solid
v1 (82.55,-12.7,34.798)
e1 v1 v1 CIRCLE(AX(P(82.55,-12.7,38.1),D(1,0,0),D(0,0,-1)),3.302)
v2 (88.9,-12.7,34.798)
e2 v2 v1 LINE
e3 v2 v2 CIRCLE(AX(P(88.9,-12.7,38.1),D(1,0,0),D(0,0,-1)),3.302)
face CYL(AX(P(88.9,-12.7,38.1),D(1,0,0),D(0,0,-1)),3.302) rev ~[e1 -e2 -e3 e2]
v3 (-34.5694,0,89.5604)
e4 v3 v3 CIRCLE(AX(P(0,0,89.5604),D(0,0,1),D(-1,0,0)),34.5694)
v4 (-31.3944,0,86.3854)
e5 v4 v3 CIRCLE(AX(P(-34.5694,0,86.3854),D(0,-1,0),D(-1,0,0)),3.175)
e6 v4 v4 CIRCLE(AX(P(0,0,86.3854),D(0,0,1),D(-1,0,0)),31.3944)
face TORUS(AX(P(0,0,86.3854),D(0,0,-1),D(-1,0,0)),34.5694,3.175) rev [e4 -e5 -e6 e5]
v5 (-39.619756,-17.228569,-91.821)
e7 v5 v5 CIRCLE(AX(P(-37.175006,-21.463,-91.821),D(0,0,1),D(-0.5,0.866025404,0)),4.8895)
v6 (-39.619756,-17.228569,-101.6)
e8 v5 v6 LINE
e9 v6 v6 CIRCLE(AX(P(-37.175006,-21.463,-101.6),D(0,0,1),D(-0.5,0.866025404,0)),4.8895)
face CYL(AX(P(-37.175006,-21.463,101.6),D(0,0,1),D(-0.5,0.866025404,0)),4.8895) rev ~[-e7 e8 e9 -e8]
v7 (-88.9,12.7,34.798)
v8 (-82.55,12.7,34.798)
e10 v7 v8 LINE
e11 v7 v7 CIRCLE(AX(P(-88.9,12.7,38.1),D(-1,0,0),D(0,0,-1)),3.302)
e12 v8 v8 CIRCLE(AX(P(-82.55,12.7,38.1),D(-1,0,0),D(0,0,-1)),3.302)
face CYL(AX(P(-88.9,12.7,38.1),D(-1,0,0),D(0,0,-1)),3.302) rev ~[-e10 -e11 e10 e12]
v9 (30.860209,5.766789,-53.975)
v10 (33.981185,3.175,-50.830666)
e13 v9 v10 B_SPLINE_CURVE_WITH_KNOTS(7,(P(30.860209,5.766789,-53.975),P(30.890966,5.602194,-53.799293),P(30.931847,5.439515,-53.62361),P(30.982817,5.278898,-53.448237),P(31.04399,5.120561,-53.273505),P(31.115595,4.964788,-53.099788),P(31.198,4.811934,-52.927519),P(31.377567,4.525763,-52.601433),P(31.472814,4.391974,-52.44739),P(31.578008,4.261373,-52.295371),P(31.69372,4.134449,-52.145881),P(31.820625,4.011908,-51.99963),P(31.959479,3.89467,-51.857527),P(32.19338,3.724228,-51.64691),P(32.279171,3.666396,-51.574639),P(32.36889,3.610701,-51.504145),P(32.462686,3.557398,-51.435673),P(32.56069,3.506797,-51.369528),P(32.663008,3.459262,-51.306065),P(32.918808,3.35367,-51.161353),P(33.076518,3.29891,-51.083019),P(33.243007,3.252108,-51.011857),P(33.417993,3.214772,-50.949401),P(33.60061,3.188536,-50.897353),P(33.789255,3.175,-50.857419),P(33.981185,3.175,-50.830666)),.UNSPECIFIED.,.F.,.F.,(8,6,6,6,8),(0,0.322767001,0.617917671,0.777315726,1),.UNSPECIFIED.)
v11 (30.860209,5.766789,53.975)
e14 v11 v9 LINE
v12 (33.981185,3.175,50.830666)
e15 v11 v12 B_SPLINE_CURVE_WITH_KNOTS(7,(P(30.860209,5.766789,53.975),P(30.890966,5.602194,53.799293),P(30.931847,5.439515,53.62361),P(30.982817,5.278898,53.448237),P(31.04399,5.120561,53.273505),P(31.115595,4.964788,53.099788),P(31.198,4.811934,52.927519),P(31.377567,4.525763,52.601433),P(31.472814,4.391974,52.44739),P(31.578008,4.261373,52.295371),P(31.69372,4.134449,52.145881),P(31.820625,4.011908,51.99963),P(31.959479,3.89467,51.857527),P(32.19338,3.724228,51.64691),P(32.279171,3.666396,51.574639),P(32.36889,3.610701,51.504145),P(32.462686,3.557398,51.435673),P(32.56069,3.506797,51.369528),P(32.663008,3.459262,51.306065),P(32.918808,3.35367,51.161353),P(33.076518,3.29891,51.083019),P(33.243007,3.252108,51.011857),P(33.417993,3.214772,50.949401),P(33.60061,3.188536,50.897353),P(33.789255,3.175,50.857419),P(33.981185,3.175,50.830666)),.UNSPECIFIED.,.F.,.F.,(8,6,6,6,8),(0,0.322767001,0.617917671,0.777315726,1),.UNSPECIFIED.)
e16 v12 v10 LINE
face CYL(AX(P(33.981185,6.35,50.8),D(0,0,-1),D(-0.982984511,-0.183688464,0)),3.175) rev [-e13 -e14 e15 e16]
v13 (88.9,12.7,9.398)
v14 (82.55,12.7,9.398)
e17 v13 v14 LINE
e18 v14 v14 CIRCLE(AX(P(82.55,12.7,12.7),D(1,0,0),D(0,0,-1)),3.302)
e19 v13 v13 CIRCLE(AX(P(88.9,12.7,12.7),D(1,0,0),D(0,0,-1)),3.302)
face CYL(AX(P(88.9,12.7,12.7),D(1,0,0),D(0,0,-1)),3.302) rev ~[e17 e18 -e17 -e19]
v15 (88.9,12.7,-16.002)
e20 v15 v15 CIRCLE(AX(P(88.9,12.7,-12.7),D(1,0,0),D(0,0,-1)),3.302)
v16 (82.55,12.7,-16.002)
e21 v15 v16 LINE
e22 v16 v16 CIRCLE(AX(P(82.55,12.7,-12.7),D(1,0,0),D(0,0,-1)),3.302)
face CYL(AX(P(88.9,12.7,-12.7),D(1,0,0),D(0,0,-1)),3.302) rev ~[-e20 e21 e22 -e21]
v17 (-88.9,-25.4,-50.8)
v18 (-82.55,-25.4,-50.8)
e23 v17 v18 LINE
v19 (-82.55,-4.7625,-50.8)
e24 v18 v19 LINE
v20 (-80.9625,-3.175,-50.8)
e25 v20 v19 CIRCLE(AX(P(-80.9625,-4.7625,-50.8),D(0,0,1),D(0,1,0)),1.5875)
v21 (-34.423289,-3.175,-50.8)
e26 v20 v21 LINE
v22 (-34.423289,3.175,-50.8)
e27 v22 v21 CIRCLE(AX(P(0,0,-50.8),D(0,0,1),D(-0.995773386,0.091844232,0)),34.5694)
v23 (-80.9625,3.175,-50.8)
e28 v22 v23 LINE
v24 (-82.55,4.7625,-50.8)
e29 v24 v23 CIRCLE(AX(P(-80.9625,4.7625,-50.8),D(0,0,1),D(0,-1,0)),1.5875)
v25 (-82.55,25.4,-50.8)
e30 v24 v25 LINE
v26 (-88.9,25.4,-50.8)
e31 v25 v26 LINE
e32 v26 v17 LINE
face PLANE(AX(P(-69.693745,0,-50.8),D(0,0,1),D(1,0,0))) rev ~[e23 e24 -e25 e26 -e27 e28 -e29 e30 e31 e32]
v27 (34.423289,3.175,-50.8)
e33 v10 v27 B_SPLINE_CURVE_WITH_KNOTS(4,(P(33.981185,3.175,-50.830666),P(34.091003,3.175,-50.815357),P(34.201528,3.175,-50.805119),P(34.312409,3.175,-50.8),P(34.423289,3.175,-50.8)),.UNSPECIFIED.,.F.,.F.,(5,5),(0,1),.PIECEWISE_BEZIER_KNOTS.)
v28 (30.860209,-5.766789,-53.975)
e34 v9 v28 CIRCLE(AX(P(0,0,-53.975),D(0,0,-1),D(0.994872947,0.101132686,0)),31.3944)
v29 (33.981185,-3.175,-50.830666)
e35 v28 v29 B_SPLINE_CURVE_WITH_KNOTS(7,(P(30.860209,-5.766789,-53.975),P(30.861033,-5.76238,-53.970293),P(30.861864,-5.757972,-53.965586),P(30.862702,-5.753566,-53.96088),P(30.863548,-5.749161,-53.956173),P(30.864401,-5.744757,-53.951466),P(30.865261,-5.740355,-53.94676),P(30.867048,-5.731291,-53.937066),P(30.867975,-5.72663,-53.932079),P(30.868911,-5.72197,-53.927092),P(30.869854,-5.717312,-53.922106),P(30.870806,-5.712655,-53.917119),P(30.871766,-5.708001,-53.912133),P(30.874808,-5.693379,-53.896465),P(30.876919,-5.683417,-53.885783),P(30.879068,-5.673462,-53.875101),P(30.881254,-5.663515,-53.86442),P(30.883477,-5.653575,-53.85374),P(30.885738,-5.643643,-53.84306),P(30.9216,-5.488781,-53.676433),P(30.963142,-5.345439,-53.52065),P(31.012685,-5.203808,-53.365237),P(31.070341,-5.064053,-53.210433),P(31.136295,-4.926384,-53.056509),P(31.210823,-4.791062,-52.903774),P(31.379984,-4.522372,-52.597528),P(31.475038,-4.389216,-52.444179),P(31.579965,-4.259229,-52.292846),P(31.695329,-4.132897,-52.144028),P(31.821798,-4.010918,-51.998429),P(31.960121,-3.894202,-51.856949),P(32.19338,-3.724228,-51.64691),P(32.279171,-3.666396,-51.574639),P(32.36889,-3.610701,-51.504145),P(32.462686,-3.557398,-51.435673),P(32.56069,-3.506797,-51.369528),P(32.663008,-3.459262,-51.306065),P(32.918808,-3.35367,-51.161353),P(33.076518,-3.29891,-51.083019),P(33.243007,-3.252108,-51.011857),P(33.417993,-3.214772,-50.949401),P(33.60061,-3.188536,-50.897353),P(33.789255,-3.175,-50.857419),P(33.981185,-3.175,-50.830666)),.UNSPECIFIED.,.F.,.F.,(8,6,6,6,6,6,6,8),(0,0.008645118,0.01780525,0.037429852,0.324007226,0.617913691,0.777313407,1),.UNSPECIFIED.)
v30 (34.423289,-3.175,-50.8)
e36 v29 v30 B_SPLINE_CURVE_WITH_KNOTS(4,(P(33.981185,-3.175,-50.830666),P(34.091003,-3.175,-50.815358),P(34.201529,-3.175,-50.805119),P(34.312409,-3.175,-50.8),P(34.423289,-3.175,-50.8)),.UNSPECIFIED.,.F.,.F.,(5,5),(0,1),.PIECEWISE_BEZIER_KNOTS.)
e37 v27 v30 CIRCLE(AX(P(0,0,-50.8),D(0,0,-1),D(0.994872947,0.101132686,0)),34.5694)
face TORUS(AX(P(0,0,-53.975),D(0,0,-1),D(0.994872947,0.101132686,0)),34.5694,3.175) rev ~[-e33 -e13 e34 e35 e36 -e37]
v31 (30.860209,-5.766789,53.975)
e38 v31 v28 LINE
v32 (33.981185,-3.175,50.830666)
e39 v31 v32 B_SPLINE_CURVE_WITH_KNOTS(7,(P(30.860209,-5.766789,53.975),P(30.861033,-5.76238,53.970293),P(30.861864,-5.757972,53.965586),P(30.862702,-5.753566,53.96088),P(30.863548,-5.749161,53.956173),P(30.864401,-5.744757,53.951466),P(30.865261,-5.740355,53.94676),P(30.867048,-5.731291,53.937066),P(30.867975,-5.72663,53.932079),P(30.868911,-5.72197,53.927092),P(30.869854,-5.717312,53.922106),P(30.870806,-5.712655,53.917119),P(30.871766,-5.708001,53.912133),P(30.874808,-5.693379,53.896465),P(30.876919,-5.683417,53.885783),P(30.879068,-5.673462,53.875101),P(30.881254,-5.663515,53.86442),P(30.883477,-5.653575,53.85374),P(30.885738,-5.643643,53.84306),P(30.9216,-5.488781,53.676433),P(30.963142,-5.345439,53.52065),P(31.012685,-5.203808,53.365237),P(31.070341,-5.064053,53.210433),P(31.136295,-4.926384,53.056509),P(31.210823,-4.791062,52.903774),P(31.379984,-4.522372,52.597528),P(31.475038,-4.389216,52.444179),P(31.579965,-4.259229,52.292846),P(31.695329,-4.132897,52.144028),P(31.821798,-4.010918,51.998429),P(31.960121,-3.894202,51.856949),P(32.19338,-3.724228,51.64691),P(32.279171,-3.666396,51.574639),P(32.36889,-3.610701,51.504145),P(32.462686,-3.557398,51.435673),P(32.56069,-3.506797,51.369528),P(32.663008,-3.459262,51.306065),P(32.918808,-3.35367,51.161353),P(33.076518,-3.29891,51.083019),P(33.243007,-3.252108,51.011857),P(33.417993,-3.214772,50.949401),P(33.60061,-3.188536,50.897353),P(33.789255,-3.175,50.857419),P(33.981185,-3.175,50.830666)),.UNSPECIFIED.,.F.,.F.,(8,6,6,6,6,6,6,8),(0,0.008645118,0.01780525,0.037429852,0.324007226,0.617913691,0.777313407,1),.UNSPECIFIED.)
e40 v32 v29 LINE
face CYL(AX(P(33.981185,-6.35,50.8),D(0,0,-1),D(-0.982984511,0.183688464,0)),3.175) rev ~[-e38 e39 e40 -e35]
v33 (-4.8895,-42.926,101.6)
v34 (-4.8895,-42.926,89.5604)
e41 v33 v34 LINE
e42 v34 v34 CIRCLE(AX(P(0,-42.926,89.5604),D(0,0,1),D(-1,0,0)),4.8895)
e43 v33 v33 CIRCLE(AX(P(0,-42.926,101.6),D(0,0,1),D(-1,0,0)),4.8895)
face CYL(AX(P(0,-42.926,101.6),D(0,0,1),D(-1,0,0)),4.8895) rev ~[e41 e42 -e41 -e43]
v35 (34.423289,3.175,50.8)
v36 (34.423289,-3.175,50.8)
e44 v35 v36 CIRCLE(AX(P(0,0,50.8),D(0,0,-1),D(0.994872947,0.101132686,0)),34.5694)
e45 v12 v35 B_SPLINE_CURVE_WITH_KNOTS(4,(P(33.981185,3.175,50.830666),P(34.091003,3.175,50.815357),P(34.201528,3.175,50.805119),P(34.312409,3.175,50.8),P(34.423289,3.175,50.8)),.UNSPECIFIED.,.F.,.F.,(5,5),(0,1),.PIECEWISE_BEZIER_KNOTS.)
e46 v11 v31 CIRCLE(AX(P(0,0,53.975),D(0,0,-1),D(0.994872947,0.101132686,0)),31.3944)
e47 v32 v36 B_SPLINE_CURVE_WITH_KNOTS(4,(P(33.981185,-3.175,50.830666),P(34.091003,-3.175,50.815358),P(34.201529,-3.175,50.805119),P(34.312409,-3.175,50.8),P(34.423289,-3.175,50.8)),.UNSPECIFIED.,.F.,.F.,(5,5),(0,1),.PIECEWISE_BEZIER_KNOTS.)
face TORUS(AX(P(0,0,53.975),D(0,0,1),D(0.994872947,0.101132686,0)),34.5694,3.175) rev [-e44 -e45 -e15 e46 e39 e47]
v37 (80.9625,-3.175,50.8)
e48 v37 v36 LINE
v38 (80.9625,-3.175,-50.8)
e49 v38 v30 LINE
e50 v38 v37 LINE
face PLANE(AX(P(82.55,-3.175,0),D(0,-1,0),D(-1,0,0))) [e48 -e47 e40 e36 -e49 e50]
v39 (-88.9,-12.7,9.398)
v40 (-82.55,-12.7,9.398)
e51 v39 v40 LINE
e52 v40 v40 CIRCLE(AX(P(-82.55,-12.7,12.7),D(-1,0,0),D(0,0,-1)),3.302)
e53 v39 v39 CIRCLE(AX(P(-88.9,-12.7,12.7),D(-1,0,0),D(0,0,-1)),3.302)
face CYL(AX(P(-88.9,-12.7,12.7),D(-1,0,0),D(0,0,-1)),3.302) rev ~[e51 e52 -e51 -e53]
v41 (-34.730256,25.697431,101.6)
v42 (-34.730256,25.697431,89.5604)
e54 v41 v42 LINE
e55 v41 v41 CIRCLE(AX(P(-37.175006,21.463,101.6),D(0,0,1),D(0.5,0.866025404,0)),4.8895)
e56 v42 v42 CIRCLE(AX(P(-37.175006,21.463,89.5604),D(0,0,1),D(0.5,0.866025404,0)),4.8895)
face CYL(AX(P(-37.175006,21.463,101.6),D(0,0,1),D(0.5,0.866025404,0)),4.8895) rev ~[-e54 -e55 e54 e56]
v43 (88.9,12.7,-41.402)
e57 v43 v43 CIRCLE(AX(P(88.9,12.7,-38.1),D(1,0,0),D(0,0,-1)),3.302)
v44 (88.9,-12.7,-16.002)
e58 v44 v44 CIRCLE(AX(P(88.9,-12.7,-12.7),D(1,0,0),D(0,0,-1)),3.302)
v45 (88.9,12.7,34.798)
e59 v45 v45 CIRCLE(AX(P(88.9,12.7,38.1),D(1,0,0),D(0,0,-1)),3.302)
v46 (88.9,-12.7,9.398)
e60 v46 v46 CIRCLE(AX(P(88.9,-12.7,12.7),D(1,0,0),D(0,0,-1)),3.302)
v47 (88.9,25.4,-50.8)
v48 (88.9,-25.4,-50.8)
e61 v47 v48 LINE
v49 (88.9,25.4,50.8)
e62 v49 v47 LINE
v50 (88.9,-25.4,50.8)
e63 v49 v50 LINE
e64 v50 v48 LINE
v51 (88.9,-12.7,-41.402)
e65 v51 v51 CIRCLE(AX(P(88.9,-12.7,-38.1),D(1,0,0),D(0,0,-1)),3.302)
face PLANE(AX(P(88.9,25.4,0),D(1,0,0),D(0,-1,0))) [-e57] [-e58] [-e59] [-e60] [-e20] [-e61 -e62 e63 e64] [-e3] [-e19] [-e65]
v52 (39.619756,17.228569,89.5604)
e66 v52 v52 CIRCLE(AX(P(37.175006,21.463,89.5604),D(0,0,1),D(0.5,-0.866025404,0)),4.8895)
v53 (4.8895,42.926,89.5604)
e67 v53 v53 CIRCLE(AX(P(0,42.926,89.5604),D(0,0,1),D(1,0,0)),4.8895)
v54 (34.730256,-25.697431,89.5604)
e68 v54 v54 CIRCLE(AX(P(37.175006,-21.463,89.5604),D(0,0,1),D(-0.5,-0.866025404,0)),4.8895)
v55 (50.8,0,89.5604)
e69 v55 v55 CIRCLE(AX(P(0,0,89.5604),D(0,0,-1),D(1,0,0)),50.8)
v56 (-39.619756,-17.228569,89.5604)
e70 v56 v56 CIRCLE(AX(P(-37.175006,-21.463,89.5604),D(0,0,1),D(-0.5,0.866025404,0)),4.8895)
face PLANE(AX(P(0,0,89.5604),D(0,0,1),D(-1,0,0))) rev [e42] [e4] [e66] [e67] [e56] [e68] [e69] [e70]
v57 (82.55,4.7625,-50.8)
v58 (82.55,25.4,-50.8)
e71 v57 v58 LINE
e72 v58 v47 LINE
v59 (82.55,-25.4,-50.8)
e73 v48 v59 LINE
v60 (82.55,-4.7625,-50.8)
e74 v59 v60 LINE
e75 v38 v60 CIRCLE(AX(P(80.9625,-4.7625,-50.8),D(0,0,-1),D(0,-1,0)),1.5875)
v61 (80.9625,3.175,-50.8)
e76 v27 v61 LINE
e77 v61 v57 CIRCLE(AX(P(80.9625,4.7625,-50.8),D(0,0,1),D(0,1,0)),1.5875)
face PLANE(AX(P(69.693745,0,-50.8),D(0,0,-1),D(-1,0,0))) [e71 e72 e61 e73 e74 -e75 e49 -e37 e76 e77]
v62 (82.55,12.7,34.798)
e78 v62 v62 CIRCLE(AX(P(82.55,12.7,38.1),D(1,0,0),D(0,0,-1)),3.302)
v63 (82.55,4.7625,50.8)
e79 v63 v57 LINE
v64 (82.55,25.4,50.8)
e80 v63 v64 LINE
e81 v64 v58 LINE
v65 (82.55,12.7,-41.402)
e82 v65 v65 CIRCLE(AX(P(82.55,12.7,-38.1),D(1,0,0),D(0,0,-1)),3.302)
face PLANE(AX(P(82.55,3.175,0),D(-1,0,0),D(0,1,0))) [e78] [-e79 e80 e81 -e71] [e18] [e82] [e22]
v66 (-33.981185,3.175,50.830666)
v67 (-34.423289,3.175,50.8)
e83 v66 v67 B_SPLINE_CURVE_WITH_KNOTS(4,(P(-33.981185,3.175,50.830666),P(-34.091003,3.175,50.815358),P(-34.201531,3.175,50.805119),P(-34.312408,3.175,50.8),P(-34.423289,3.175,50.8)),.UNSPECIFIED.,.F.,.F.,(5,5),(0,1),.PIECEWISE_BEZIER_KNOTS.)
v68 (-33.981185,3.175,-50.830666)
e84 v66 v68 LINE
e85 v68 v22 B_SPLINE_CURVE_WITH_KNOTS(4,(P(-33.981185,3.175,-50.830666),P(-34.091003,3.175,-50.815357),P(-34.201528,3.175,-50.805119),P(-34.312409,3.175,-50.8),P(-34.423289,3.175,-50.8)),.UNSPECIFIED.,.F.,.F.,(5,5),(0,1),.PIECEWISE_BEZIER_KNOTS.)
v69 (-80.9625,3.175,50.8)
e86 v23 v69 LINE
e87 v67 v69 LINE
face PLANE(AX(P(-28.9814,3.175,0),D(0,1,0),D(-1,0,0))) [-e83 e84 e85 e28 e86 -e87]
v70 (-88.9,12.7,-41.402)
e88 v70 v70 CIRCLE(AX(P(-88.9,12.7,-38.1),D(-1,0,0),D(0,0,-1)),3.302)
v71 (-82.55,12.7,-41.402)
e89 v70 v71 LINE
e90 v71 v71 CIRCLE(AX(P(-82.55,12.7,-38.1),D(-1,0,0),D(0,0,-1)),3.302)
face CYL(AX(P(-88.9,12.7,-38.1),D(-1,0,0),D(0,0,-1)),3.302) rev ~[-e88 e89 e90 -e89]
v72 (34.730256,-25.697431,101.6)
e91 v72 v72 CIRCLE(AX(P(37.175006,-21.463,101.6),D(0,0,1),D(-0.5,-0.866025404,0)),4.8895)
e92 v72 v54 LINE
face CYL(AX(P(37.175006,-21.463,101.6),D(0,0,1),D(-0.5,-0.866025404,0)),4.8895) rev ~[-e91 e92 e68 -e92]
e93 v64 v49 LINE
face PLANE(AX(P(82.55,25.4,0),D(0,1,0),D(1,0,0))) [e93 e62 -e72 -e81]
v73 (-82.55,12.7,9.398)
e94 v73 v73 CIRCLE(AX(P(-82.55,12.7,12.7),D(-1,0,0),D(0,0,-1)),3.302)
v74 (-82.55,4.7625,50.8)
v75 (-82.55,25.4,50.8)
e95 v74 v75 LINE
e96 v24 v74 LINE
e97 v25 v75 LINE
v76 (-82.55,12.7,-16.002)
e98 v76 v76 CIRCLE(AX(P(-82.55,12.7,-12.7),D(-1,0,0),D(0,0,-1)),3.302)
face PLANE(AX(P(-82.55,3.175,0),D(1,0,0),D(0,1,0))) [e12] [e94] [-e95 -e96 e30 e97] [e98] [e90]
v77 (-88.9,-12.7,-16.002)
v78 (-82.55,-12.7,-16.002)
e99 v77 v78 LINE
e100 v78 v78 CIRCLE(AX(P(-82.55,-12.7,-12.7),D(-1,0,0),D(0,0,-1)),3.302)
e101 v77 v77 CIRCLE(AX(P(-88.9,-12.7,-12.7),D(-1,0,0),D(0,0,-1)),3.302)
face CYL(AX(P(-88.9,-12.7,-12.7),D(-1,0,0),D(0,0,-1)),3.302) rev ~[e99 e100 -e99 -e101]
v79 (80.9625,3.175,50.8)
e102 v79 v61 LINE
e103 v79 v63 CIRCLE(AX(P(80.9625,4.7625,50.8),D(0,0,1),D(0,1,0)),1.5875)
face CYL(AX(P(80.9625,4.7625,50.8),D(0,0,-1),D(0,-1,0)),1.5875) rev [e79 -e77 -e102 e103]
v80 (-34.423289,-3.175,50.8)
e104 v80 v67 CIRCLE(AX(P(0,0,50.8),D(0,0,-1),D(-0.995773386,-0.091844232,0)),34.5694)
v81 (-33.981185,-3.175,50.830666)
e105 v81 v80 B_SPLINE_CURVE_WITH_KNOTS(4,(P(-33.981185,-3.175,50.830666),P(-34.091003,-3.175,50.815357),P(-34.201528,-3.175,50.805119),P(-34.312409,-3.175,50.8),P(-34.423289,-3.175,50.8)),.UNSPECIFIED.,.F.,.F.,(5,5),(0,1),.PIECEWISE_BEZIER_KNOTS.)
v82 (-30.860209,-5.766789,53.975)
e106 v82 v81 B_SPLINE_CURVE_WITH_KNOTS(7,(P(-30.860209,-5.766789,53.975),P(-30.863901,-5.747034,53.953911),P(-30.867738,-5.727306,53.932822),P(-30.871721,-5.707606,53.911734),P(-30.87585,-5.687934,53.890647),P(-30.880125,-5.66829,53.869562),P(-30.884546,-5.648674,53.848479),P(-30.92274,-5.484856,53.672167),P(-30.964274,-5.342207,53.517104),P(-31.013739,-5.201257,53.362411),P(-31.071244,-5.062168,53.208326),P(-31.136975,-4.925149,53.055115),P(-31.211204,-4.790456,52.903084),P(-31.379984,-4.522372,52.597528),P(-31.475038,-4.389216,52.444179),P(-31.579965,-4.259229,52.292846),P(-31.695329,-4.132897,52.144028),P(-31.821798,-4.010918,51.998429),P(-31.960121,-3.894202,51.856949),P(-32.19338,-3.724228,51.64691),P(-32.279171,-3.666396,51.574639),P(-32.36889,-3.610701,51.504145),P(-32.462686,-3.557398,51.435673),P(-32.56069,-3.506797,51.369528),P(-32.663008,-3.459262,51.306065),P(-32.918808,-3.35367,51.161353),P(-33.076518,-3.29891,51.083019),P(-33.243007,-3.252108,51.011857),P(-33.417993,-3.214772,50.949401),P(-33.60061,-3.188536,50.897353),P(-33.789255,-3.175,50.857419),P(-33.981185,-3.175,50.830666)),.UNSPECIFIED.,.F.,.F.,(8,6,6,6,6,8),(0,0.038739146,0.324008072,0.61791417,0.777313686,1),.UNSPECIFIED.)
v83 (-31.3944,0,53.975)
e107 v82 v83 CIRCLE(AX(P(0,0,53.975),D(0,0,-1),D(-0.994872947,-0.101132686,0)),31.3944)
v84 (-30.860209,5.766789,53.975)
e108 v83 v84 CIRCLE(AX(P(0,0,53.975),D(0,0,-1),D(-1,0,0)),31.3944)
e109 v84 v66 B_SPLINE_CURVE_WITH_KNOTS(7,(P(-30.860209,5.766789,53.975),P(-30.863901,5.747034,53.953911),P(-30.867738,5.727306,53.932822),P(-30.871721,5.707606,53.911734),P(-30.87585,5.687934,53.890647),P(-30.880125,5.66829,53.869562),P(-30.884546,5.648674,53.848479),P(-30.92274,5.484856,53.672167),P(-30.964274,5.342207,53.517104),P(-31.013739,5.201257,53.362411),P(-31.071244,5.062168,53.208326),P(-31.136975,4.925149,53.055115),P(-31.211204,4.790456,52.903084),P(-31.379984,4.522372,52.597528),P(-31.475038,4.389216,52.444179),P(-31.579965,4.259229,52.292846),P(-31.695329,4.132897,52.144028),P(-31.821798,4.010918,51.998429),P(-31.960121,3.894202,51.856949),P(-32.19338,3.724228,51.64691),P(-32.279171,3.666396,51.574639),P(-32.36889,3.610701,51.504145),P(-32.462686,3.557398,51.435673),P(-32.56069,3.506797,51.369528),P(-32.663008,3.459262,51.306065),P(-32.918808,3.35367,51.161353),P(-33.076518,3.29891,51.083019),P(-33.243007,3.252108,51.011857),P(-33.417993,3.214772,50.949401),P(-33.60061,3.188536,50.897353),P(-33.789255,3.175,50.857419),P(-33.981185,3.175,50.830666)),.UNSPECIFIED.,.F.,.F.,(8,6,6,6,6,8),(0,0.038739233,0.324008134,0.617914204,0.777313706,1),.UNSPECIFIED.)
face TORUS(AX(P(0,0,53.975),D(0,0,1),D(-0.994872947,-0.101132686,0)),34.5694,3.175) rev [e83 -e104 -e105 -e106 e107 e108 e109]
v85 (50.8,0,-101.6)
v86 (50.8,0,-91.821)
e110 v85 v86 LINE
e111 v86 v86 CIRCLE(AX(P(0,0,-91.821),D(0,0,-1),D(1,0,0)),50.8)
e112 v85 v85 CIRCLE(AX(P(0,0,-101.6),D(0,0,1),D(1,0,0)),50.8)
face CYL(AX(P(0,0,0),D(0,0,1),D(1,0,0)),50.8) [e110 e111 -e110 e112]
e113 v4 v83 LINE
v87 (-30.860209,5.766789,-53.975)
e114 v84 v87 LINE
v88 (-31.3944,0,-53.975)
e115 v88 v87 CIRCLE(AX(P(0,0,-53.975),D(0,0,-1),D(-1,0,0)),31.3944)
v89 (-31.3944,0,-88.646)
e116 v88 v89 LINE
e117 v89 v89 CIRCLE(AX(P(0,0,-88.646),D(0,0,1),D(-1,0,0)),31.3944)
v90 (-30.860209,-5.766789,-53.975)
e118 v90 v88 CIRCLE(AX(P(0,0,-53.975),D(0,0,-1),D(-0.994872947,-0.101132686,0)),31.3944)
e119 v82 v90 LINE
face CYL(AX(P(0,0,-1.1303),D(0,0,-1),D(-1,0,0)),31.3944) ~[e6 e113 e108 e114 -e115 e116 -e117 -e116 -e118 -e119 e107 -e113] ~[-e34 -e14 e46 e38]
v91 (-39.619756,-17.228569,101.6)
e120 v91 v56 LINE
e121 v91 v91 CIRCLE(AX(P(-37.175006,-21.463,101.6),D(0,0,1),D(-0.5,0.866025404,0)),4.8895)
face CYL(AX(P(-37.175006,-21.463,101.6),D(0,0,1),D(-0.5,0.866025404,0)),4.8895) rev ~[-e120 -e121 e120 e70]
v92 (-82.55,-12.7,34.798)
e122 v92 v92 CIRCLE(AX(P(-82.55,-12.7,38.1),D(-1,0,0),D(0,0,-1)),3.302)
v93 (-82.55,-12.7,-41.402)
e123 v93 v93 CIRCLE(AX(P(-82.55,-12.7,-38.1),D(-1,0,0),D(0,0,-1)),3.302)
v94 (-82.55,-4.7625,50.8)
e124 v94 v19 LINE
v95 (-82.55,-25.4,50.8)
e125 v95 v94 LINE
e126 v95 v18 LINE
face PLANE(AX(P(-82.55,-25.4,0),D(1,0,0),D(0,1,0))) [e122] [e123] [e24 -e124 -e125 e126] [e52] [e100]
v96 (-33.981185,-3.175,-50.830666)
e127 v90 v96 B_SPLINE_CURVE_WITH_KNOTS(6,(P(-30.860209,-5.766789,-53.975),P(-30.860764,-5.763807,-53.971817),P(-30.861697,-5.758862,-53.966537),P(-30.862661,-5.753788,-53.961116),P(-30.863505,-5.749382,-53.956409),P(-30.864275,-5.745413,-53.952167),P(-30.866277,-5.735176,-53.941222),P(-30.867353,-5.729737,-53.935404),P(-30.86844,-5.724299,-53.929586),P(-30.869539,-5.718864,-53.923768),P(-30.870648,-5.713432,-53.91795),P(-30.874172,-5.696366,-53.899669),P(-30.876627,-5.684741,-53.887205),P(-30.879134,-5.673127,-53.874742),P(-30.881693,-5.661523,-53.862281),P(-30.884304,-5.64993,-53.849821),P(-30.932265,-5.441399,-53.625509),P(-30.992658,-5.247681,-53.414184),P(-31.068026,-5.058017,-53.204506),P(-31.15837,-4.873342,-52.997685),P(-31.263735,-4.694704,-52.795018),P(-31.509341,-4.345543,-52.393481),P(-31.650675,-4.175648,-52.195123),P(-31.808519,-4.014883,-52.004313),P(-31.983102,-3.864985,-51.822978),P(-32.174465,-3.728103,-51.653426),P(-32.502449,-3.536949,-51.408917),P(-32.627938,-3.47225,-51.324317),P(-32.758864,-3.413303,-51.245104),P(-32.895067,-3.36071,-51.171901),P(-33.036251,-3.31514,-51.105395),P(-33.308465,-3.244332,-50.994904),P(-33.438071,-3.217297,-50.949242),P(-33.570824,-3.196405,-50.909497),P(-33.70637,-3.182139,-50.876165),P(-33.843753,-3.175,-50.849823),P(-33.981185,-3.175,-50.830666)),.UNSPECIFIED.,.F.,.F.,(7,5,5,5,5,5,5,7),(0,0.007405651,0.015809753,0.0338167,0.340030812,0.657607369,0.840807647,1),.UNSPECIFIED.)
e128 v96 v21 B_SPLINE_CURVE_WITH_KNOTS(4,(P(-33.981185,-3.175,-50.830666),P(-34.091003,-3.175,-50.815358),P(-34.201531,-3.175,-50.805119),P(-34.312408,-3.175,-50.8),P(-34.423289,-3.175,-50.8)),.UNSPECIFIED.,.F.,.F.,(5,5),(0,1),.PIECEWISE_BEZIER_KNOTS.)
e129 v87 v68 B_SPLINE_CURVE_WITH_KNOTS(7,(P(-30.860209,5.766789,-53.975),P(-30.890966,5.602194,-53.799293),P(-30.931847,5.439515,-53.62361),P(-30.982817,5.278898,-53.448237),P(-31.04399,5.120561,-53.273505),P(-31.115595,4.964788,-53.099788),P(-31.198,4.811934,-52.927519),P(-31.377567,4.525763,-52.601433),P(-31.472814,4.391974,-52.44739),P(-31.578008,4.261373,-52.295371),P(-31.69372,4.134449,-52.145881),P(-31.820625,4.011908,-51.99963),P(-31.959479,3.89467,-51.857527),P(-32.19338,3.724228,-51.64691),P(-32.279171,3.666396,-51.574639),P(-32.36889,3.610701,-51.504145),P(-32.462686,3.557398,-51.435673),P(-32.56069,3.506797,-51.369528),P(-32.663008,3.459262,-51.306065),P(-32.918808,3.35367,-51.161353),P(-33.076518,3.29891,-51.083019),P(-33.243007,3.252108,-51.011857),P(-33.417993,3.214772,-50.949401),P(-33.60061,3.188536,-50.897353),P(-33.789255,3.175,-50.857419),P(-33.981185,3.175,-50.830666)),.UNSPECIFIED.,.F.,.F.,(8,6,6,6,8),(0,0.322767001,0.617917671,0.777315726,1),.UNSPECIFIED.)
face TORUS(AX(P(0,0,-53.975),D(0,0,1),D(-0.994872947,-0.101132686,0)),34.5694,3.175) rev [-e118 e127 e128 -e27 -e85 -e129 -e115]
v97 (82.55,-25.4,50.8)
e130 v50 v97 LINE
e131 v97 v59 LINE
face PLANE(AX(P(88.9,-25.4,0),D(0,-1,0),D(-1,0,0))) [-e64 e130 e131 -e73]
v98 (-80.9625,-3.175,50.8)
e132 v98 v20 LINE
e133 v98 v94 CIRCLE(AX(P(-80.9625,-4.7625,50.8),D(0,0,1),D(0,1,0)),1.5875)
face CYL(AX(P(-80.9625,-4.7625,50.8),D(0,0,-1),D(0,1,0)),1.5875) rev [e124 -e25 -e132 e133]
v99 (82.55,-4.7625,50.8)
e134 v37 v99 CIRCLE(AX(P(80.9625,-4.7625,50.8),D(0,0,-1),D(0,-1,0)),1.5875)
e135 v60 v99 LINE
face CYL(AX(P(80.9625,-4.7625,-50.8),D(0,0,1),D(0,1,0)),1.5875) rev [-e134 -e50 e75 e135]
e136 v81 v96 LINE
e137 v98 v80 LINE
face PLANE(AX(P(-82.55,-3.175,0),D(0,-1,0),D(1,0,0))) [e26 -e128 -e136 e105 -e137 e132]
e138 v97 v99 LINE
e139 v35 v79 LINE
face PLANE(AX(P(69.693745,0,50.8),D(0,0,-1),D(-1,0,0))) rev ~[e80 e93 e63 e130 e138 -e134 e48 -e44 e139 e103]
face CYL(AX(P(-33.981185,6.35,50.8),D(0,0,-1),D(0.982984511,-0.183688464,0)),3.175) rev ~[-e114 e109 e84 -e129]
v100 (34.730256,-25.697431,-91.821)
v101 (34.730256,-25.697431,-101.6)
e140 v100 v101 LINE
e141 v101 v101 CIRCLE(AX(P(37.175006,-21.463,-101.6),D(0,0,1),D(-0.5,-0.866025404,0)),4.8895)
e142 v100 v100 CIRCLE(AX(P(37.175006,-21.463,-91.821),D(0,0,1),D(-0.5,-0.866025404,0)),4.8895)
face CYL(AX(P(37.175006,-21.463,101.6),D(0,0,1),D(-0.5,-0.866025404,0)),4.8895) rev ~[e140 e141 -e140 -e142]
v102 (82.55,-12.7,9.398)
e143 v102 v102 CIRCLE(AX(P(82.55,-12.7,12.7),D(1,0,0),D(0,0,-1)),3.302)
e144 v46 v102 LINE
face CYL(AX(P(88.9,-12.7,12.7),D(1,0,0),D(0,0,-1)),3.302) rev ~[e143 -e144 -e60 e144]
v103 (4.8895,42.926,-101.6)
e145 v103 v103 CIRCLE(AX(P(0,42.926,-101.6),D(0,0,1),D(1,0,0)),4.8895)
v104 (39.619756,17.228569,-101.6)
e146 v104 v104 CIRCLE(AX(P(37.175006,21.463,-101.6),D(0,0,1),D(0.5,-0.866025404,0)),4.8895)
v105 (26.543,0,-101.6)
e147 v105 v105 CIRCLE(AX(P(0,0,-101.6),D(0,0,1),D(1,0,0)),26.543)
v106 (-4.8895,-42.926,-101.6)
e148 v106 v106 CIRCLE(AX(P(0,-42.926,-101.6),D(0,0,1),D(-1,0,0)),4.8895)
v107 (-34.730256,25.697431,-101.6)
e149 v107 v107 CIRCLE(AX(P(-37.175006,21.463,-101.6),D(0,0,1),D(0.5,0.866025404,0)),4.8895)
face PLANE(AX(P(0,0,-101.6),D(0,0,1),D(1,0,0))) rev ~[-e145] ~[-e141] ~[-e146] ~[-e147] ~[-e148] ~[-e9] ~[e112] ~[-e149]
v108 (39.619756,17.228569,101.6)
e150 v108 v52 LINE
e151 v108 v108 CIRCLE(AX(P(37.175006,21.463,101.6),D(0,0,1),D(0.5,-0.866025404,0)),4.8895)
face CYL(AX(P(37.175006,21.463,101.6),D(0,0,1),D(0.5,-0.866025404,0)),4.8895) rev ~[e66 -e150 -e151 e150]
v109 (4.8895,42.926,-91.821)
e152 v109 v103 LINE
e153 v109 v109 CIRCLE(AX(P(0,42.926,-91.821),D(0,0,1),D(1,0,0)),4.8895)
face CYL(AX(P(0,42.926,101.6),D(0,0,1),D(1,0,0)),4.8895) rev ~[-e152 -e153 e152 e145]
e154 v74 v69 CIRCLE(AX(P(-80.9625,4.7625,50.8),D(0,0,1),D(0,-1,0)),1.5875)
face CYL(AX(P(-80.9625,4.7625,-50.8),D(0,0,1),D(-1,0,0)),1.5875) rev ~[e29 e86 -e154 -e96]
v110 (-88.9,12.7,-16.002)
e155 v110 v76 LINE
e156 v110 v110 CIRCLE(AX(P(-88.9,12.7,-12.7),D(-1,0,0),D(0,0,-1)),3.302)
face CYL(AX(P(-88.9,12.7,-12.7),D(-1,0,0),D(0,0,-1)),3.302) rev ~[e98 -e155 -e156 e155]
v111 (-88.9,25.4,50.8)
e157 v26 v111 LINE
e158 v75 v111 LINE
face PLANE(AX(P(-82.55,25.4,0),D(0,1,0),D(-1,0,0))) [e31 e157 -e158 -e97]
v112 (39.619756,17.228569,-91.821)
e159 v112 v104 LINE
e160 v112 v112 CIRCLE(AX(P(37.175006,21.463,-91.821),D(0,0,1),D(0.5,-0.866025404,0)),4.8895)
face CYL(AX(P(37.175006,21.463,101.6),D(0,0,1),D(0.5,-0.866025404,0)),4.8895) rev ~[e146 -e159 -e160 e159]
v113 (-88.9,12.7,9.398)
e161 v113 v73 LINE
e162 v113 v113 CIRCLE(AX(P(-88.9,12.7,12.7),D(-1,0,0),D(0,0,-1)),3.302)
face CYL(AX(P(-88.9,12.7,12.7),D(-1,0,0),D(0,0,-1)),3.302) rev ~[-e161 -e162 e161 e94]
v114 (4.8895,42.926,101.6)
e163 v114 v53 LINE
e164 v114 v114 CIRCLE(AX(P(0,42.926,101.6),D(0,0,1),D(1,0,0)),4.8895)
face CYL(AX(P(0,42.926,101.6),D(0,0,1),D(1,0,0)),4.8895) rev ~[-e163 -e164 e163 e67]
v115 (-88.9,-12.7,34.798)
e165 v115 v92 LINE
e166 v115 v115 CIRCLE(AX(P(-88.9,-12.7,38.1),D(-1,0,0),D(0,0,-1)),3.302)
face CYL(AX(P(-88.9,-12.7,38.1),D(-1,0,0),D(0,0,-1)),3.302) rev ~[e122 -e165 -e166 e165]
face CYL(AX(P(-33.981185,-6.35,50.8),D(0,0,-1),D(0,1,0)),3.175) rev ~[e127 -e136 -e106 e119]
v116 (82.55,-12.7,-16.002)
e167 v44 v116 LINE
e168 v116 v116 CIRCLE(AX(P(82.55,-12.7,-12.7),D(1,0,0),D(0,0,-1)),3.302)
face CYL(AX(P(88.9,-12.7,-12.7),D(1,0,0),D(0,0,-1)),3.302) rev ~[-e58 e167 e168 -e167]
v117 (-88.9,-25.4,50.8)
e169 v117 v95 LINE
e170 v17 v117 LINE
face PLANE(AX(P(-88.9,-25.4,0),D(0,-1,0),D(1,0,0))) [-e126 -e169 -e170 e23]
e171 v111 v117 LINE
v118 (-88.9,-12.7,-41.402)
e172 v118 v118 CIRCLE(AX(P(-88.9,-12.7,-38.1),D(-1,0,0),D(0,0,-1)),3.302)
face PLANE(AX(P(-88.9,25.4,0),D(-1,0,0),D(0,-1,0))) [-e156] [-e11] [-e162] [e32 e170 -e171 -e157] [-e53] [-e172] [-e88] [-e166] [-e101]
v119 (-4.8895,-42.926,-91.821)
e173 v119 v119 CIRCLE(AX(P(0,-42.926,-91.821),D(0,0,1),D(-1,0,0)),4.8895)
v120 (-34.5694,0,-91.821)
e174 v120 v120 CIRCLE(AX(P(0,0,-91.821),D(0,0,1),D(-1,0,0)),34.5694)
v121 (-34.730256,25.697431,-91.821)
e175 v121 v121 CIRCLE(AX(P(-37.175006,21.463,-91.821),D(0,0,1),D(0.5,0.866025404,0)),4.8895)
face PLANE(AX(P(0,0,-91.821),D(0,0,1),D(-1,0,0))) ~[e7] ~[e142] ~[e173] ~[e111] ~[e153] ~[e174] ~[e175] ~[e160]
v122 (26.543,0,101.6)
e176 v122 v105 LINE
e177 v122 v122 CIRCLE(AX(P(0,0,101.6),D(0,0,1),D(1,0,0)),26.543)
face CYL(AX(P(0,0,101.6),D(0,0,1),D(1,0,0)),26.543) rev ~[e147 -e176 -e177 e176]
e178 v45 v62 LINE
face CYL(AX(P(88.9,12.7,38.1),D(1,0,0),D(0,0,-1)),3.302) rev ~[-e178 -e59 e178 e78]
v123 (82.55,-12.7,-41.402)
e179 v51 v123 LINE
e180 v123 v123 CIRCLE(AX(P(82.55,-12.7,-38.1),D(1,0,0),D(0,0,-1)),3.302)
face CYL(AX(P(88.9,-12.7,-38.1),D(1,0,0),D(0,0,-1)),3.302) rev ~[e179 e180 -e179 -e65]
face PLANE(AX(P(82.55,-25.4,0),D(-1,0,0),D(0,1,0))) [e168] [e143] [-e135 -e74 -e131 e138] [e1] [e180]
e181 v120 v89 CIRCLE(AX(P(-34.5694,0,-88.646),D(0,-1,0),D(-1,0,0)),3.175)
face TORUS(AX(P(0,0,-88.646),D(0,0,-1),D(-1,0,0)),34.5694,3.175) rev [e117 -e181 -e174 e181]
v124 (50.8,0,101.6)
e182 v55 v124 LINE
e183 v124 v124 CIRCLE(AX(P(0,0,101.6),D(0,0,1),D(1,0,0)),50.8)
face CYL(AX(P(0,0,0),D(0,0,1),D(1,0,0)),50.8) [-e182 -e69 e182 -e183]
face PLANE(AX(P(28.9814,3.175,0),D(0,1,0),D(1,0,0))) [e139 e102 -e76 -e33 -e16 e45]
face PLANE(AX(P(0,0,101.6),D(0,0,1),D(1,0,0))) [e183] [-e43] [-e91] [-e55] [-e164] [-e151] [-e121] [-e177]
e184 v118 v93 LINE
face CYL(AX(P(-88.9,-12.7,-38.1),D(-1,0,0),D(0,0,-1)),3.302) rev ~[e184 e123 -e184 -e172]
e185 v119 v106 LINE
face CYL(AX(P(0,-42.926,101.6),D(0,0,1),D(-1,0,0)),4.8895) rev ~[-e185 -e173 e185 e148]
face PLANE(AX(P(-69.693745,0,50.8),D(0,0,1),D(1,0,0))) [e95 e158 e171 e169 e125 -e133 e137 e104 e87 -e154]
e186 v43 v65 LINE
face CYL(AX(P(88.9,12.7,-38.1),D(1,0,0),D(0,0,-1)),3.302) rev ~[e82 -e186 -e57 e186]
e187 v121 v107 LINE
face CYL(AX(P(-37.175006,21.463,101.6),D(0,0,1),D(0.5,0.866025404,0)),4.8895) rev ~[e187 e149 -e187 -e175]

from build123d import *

# Parameters (mm, degrees)
SKETCH1_R            = 50.8
BOSS_EXTRUDE1_DEPTH  = 101.6
SKETCH2_W            = 181.3814
SKETCH2_H            = 19.4056
SKETCH3_R            = 26.543
CUT_EXTRUDE1_DEPTH   = 216.526146906
SKETCH4_R            = 4.8895
CUT_EXTRUDE2_DEPTH   = 216.526146906
CIRPATTERN1_COUNT    = 6
FILLET1_R            = 3.175
BOSS_EXTRUDE2_DEPTH  = 50.8
CUT_EXTRUDE3_REACH   = 212.988
SKETCH6_R            = 3.302
LPATTERN1_COUNT      = 4
LPATTERN1_PITCH      = 25.4
LPATTERN1_COUNT_DIR2 = 2
LPATTERN1_PITCH_DIR2 = 25.4
CUT_EXTRUDE4_REACH   = 212.988
SKETCH7_R            = 3.302
LPATTERN2_COUNT      = 4
LPATTERN2_PITCH      = 25.4
LPATTERN2_COUNT_DIR2 = 2
LPATTERN2_PITCH_DIR2 = 25.4
FILLET2_R            = 1.5875
FILLET3_R            = 3.175


with BuildPart() as part:
    # Sketch1 → Boss-Extrude1 (new, symmetric)
    with BuildSketch(Plane.XY):
        Circle(SKETCH1_R)
    extrude(amount=BOSS_EXTRUDE1_DEPTH, both=True)

    # Sketch2 → Cut-Revolve1 (revolve, cut)
    with BuildSketch(Plane(origin=(0, 0, 0), x_dir=(0, 0, -1), z_dir=(1, 0, 0)), mode=Mode.PRIVATE) as cut_revolve1_sk:
        with Locations((1.1303, 41.0972)):
            Rectangle(SKETCH2_W, SKETCH2_H)
    revolve(cut_revolve1_sk.sketch.rotate(Axis((0, 0, -88.99), (0, 0, 1)), 90), axis=Axis((0, 0, -88.99), (0, 0, 1)), mode=Mode.SUBTRACT)

    # Sketch3 → Cut-Extrude1 (cut, through all)
    with BuildSketch(Plane.XY.offset(101.6)):
        Circle(SKETCH3_R)
    extrude(amount=-CUT_EXTRUDE1_DEPTH, mode=Mode.SUBTRACT)

    # Sketch4 → Cut-Extrude2 (cut, through all)
    with BuildSketch(Plane.XY.offset(101.6)):
        with Locations((0, 42.926)):
            Circle(SKETCH4_R)
    cut_extrude2 = extrude(amount=-CUT_EXTRUDE2_DEPTH, mode=Mode.SUBTRACT)

    # CirPattern1: Cut-Extrude2 ×6 about axis
    cirpattern1_axis = Axis((0, 0, 0), (0, 0, 1))
    for i in range(1, CIRPATTERN1_COUNT):
        add(cut_extrude2.rotate(cirpattern1_axis, i * 360 / CIRPATTERN1_COUNT), mode=Mode.SUBTRACT)

    # Fillet1
    fillet1_edges = [part.edges().sort_by_distance(p)[0] for p in [
        (31.3944, 0, 89.5604),
        (31.3944, 0, -91.821),
    ]]
    fillet(fillet1_edges, radius=FILLET1_R)

    # Sketch5 → Boss-Extrude2 (add, symmetric)
    with BuildSketch(Plane.XY):
        Polygon((28.9814, 3.175), (82.55, 3.175), (82.55, 25.4), (88.9, 25.4), (88.9, -25.4), (82.55, -25.4), (82.55, -3.175), (28.9814, -3.175), align=None)
        Polygon((-28.9814, -3.175), (-28.9814, 3.175), (-82.55, 3.175), (-82.55, 25.4), (-88.9, 25.4), (-88.9, -25.4), (-82.55, -25.4), (-82.55, -3.175), align=None)
    extrude(amount=BOSS_EXTRUDE2_DEPTH, both=True)

    # Sketch6 → Cut-Extrude3 (cut, up to next)
    with BuildSketch(Plane(origin=(88.9, 0, 0), x_dir=(0, 0, -1), z_dir=(1, 0, 0)), mode=Mode.PRIVATE) as cut_extrude3_sk1:
        with Locations((-38.1, -12.7)):
            Circle(SKETCH6_R)
    cut_extrude3_tool1 = extrude(cut_extrude3_sk1.sketch, amount=-CUT_EXTRUDE3_REACH, mode=Mode.PRIVATE) & part.part
    cut_extrude3 = cut_extrude3_tool1.solids().sort_by_distance((88.9, -12.7, 38.1))[0]
    add(cut_extrude3, mode=Mode.SUBTRACT)

    # LPattern1: Cut-Extrude3 4 × 2
    with Locations(*[(0, j * LPATTERN1_PITCH_DIR2, -i * LPATTERN1_PITCH) for i in range(LPATTERN1_COUNT) for j in range(LPATTERN1_COUNT_DIR2) if (i, j) != (0, 0)]):
        add(cut_extrude3, mode=Mode.SUBTRACT)

    # Sketch7 → Cut-Extrude4 (cut, up to next)
    with BuildSketch(Plane.ZY.offset(88.9), mode=Mode.PRIVATE) as cut_extrude4_sk1:
        with Locations(Location((38.1, -12.7, 0), (0, 0, 180))):
            Circle(SKETCH7_R)
    cut_extrude4_tool1 = extrude(cut_extrude4_sk1.sketch, amount=-CUT_EXTRUDE4_REACH, mode=Mode.PRIVATE) & part.part
    cut_extrude4 = cut_extrude4_tool1.solids().sort_by_distance((-88.9, -12.7, 38.1))[0]
    add(cut_extrude4, mode=Mode.SUBTRACT)

    # LPattern2: Cut-Extrude4 4 × 2
    with Locations(*[(0, j * LPATTERN2_PITCH_DIR2, -i * LPATTERN2_PITCH) for i in range(LPATTERN2_COUNT) for j in range(LPATTERN2_COUNT_DIR2) if (i, j) != (0, 0)]):
        add(cut_extrude4, mode=Mode.SUBTRACT)

    # Fillet2
    fillet2_edges = [part.edges().sort_by_distance(p)[0] for p in [
        (82.55, 3.175, 0),
        (82.55, -3.175, 0),
        (-82.55, -3.175, 0),
        (-82.55, 3.175, 0),
    ]]
    fillet(fillet2_edges, radius=FILLET2_R)

    # Fillet3
    fillet3_edges = [part.edges().sort_by_distance(p)[0] for p in [
        (31.3944, 0, -50.8),
        (31.233439234, 3.175, 0),
        (31.233439234, -3.175, 0),
        (31.3944, 0, 50.8),
        (-31.354133986, -1.58953872, -50.8),
        (-31.233439234, 3.175, 0),
        (-31.233439234, -3.175, 0),
        (-31.354133986, -1.58953872, 50.8),
    ]]
    fillet(fillet3_edges, radius=FILLET3_R)


solid = part.part
